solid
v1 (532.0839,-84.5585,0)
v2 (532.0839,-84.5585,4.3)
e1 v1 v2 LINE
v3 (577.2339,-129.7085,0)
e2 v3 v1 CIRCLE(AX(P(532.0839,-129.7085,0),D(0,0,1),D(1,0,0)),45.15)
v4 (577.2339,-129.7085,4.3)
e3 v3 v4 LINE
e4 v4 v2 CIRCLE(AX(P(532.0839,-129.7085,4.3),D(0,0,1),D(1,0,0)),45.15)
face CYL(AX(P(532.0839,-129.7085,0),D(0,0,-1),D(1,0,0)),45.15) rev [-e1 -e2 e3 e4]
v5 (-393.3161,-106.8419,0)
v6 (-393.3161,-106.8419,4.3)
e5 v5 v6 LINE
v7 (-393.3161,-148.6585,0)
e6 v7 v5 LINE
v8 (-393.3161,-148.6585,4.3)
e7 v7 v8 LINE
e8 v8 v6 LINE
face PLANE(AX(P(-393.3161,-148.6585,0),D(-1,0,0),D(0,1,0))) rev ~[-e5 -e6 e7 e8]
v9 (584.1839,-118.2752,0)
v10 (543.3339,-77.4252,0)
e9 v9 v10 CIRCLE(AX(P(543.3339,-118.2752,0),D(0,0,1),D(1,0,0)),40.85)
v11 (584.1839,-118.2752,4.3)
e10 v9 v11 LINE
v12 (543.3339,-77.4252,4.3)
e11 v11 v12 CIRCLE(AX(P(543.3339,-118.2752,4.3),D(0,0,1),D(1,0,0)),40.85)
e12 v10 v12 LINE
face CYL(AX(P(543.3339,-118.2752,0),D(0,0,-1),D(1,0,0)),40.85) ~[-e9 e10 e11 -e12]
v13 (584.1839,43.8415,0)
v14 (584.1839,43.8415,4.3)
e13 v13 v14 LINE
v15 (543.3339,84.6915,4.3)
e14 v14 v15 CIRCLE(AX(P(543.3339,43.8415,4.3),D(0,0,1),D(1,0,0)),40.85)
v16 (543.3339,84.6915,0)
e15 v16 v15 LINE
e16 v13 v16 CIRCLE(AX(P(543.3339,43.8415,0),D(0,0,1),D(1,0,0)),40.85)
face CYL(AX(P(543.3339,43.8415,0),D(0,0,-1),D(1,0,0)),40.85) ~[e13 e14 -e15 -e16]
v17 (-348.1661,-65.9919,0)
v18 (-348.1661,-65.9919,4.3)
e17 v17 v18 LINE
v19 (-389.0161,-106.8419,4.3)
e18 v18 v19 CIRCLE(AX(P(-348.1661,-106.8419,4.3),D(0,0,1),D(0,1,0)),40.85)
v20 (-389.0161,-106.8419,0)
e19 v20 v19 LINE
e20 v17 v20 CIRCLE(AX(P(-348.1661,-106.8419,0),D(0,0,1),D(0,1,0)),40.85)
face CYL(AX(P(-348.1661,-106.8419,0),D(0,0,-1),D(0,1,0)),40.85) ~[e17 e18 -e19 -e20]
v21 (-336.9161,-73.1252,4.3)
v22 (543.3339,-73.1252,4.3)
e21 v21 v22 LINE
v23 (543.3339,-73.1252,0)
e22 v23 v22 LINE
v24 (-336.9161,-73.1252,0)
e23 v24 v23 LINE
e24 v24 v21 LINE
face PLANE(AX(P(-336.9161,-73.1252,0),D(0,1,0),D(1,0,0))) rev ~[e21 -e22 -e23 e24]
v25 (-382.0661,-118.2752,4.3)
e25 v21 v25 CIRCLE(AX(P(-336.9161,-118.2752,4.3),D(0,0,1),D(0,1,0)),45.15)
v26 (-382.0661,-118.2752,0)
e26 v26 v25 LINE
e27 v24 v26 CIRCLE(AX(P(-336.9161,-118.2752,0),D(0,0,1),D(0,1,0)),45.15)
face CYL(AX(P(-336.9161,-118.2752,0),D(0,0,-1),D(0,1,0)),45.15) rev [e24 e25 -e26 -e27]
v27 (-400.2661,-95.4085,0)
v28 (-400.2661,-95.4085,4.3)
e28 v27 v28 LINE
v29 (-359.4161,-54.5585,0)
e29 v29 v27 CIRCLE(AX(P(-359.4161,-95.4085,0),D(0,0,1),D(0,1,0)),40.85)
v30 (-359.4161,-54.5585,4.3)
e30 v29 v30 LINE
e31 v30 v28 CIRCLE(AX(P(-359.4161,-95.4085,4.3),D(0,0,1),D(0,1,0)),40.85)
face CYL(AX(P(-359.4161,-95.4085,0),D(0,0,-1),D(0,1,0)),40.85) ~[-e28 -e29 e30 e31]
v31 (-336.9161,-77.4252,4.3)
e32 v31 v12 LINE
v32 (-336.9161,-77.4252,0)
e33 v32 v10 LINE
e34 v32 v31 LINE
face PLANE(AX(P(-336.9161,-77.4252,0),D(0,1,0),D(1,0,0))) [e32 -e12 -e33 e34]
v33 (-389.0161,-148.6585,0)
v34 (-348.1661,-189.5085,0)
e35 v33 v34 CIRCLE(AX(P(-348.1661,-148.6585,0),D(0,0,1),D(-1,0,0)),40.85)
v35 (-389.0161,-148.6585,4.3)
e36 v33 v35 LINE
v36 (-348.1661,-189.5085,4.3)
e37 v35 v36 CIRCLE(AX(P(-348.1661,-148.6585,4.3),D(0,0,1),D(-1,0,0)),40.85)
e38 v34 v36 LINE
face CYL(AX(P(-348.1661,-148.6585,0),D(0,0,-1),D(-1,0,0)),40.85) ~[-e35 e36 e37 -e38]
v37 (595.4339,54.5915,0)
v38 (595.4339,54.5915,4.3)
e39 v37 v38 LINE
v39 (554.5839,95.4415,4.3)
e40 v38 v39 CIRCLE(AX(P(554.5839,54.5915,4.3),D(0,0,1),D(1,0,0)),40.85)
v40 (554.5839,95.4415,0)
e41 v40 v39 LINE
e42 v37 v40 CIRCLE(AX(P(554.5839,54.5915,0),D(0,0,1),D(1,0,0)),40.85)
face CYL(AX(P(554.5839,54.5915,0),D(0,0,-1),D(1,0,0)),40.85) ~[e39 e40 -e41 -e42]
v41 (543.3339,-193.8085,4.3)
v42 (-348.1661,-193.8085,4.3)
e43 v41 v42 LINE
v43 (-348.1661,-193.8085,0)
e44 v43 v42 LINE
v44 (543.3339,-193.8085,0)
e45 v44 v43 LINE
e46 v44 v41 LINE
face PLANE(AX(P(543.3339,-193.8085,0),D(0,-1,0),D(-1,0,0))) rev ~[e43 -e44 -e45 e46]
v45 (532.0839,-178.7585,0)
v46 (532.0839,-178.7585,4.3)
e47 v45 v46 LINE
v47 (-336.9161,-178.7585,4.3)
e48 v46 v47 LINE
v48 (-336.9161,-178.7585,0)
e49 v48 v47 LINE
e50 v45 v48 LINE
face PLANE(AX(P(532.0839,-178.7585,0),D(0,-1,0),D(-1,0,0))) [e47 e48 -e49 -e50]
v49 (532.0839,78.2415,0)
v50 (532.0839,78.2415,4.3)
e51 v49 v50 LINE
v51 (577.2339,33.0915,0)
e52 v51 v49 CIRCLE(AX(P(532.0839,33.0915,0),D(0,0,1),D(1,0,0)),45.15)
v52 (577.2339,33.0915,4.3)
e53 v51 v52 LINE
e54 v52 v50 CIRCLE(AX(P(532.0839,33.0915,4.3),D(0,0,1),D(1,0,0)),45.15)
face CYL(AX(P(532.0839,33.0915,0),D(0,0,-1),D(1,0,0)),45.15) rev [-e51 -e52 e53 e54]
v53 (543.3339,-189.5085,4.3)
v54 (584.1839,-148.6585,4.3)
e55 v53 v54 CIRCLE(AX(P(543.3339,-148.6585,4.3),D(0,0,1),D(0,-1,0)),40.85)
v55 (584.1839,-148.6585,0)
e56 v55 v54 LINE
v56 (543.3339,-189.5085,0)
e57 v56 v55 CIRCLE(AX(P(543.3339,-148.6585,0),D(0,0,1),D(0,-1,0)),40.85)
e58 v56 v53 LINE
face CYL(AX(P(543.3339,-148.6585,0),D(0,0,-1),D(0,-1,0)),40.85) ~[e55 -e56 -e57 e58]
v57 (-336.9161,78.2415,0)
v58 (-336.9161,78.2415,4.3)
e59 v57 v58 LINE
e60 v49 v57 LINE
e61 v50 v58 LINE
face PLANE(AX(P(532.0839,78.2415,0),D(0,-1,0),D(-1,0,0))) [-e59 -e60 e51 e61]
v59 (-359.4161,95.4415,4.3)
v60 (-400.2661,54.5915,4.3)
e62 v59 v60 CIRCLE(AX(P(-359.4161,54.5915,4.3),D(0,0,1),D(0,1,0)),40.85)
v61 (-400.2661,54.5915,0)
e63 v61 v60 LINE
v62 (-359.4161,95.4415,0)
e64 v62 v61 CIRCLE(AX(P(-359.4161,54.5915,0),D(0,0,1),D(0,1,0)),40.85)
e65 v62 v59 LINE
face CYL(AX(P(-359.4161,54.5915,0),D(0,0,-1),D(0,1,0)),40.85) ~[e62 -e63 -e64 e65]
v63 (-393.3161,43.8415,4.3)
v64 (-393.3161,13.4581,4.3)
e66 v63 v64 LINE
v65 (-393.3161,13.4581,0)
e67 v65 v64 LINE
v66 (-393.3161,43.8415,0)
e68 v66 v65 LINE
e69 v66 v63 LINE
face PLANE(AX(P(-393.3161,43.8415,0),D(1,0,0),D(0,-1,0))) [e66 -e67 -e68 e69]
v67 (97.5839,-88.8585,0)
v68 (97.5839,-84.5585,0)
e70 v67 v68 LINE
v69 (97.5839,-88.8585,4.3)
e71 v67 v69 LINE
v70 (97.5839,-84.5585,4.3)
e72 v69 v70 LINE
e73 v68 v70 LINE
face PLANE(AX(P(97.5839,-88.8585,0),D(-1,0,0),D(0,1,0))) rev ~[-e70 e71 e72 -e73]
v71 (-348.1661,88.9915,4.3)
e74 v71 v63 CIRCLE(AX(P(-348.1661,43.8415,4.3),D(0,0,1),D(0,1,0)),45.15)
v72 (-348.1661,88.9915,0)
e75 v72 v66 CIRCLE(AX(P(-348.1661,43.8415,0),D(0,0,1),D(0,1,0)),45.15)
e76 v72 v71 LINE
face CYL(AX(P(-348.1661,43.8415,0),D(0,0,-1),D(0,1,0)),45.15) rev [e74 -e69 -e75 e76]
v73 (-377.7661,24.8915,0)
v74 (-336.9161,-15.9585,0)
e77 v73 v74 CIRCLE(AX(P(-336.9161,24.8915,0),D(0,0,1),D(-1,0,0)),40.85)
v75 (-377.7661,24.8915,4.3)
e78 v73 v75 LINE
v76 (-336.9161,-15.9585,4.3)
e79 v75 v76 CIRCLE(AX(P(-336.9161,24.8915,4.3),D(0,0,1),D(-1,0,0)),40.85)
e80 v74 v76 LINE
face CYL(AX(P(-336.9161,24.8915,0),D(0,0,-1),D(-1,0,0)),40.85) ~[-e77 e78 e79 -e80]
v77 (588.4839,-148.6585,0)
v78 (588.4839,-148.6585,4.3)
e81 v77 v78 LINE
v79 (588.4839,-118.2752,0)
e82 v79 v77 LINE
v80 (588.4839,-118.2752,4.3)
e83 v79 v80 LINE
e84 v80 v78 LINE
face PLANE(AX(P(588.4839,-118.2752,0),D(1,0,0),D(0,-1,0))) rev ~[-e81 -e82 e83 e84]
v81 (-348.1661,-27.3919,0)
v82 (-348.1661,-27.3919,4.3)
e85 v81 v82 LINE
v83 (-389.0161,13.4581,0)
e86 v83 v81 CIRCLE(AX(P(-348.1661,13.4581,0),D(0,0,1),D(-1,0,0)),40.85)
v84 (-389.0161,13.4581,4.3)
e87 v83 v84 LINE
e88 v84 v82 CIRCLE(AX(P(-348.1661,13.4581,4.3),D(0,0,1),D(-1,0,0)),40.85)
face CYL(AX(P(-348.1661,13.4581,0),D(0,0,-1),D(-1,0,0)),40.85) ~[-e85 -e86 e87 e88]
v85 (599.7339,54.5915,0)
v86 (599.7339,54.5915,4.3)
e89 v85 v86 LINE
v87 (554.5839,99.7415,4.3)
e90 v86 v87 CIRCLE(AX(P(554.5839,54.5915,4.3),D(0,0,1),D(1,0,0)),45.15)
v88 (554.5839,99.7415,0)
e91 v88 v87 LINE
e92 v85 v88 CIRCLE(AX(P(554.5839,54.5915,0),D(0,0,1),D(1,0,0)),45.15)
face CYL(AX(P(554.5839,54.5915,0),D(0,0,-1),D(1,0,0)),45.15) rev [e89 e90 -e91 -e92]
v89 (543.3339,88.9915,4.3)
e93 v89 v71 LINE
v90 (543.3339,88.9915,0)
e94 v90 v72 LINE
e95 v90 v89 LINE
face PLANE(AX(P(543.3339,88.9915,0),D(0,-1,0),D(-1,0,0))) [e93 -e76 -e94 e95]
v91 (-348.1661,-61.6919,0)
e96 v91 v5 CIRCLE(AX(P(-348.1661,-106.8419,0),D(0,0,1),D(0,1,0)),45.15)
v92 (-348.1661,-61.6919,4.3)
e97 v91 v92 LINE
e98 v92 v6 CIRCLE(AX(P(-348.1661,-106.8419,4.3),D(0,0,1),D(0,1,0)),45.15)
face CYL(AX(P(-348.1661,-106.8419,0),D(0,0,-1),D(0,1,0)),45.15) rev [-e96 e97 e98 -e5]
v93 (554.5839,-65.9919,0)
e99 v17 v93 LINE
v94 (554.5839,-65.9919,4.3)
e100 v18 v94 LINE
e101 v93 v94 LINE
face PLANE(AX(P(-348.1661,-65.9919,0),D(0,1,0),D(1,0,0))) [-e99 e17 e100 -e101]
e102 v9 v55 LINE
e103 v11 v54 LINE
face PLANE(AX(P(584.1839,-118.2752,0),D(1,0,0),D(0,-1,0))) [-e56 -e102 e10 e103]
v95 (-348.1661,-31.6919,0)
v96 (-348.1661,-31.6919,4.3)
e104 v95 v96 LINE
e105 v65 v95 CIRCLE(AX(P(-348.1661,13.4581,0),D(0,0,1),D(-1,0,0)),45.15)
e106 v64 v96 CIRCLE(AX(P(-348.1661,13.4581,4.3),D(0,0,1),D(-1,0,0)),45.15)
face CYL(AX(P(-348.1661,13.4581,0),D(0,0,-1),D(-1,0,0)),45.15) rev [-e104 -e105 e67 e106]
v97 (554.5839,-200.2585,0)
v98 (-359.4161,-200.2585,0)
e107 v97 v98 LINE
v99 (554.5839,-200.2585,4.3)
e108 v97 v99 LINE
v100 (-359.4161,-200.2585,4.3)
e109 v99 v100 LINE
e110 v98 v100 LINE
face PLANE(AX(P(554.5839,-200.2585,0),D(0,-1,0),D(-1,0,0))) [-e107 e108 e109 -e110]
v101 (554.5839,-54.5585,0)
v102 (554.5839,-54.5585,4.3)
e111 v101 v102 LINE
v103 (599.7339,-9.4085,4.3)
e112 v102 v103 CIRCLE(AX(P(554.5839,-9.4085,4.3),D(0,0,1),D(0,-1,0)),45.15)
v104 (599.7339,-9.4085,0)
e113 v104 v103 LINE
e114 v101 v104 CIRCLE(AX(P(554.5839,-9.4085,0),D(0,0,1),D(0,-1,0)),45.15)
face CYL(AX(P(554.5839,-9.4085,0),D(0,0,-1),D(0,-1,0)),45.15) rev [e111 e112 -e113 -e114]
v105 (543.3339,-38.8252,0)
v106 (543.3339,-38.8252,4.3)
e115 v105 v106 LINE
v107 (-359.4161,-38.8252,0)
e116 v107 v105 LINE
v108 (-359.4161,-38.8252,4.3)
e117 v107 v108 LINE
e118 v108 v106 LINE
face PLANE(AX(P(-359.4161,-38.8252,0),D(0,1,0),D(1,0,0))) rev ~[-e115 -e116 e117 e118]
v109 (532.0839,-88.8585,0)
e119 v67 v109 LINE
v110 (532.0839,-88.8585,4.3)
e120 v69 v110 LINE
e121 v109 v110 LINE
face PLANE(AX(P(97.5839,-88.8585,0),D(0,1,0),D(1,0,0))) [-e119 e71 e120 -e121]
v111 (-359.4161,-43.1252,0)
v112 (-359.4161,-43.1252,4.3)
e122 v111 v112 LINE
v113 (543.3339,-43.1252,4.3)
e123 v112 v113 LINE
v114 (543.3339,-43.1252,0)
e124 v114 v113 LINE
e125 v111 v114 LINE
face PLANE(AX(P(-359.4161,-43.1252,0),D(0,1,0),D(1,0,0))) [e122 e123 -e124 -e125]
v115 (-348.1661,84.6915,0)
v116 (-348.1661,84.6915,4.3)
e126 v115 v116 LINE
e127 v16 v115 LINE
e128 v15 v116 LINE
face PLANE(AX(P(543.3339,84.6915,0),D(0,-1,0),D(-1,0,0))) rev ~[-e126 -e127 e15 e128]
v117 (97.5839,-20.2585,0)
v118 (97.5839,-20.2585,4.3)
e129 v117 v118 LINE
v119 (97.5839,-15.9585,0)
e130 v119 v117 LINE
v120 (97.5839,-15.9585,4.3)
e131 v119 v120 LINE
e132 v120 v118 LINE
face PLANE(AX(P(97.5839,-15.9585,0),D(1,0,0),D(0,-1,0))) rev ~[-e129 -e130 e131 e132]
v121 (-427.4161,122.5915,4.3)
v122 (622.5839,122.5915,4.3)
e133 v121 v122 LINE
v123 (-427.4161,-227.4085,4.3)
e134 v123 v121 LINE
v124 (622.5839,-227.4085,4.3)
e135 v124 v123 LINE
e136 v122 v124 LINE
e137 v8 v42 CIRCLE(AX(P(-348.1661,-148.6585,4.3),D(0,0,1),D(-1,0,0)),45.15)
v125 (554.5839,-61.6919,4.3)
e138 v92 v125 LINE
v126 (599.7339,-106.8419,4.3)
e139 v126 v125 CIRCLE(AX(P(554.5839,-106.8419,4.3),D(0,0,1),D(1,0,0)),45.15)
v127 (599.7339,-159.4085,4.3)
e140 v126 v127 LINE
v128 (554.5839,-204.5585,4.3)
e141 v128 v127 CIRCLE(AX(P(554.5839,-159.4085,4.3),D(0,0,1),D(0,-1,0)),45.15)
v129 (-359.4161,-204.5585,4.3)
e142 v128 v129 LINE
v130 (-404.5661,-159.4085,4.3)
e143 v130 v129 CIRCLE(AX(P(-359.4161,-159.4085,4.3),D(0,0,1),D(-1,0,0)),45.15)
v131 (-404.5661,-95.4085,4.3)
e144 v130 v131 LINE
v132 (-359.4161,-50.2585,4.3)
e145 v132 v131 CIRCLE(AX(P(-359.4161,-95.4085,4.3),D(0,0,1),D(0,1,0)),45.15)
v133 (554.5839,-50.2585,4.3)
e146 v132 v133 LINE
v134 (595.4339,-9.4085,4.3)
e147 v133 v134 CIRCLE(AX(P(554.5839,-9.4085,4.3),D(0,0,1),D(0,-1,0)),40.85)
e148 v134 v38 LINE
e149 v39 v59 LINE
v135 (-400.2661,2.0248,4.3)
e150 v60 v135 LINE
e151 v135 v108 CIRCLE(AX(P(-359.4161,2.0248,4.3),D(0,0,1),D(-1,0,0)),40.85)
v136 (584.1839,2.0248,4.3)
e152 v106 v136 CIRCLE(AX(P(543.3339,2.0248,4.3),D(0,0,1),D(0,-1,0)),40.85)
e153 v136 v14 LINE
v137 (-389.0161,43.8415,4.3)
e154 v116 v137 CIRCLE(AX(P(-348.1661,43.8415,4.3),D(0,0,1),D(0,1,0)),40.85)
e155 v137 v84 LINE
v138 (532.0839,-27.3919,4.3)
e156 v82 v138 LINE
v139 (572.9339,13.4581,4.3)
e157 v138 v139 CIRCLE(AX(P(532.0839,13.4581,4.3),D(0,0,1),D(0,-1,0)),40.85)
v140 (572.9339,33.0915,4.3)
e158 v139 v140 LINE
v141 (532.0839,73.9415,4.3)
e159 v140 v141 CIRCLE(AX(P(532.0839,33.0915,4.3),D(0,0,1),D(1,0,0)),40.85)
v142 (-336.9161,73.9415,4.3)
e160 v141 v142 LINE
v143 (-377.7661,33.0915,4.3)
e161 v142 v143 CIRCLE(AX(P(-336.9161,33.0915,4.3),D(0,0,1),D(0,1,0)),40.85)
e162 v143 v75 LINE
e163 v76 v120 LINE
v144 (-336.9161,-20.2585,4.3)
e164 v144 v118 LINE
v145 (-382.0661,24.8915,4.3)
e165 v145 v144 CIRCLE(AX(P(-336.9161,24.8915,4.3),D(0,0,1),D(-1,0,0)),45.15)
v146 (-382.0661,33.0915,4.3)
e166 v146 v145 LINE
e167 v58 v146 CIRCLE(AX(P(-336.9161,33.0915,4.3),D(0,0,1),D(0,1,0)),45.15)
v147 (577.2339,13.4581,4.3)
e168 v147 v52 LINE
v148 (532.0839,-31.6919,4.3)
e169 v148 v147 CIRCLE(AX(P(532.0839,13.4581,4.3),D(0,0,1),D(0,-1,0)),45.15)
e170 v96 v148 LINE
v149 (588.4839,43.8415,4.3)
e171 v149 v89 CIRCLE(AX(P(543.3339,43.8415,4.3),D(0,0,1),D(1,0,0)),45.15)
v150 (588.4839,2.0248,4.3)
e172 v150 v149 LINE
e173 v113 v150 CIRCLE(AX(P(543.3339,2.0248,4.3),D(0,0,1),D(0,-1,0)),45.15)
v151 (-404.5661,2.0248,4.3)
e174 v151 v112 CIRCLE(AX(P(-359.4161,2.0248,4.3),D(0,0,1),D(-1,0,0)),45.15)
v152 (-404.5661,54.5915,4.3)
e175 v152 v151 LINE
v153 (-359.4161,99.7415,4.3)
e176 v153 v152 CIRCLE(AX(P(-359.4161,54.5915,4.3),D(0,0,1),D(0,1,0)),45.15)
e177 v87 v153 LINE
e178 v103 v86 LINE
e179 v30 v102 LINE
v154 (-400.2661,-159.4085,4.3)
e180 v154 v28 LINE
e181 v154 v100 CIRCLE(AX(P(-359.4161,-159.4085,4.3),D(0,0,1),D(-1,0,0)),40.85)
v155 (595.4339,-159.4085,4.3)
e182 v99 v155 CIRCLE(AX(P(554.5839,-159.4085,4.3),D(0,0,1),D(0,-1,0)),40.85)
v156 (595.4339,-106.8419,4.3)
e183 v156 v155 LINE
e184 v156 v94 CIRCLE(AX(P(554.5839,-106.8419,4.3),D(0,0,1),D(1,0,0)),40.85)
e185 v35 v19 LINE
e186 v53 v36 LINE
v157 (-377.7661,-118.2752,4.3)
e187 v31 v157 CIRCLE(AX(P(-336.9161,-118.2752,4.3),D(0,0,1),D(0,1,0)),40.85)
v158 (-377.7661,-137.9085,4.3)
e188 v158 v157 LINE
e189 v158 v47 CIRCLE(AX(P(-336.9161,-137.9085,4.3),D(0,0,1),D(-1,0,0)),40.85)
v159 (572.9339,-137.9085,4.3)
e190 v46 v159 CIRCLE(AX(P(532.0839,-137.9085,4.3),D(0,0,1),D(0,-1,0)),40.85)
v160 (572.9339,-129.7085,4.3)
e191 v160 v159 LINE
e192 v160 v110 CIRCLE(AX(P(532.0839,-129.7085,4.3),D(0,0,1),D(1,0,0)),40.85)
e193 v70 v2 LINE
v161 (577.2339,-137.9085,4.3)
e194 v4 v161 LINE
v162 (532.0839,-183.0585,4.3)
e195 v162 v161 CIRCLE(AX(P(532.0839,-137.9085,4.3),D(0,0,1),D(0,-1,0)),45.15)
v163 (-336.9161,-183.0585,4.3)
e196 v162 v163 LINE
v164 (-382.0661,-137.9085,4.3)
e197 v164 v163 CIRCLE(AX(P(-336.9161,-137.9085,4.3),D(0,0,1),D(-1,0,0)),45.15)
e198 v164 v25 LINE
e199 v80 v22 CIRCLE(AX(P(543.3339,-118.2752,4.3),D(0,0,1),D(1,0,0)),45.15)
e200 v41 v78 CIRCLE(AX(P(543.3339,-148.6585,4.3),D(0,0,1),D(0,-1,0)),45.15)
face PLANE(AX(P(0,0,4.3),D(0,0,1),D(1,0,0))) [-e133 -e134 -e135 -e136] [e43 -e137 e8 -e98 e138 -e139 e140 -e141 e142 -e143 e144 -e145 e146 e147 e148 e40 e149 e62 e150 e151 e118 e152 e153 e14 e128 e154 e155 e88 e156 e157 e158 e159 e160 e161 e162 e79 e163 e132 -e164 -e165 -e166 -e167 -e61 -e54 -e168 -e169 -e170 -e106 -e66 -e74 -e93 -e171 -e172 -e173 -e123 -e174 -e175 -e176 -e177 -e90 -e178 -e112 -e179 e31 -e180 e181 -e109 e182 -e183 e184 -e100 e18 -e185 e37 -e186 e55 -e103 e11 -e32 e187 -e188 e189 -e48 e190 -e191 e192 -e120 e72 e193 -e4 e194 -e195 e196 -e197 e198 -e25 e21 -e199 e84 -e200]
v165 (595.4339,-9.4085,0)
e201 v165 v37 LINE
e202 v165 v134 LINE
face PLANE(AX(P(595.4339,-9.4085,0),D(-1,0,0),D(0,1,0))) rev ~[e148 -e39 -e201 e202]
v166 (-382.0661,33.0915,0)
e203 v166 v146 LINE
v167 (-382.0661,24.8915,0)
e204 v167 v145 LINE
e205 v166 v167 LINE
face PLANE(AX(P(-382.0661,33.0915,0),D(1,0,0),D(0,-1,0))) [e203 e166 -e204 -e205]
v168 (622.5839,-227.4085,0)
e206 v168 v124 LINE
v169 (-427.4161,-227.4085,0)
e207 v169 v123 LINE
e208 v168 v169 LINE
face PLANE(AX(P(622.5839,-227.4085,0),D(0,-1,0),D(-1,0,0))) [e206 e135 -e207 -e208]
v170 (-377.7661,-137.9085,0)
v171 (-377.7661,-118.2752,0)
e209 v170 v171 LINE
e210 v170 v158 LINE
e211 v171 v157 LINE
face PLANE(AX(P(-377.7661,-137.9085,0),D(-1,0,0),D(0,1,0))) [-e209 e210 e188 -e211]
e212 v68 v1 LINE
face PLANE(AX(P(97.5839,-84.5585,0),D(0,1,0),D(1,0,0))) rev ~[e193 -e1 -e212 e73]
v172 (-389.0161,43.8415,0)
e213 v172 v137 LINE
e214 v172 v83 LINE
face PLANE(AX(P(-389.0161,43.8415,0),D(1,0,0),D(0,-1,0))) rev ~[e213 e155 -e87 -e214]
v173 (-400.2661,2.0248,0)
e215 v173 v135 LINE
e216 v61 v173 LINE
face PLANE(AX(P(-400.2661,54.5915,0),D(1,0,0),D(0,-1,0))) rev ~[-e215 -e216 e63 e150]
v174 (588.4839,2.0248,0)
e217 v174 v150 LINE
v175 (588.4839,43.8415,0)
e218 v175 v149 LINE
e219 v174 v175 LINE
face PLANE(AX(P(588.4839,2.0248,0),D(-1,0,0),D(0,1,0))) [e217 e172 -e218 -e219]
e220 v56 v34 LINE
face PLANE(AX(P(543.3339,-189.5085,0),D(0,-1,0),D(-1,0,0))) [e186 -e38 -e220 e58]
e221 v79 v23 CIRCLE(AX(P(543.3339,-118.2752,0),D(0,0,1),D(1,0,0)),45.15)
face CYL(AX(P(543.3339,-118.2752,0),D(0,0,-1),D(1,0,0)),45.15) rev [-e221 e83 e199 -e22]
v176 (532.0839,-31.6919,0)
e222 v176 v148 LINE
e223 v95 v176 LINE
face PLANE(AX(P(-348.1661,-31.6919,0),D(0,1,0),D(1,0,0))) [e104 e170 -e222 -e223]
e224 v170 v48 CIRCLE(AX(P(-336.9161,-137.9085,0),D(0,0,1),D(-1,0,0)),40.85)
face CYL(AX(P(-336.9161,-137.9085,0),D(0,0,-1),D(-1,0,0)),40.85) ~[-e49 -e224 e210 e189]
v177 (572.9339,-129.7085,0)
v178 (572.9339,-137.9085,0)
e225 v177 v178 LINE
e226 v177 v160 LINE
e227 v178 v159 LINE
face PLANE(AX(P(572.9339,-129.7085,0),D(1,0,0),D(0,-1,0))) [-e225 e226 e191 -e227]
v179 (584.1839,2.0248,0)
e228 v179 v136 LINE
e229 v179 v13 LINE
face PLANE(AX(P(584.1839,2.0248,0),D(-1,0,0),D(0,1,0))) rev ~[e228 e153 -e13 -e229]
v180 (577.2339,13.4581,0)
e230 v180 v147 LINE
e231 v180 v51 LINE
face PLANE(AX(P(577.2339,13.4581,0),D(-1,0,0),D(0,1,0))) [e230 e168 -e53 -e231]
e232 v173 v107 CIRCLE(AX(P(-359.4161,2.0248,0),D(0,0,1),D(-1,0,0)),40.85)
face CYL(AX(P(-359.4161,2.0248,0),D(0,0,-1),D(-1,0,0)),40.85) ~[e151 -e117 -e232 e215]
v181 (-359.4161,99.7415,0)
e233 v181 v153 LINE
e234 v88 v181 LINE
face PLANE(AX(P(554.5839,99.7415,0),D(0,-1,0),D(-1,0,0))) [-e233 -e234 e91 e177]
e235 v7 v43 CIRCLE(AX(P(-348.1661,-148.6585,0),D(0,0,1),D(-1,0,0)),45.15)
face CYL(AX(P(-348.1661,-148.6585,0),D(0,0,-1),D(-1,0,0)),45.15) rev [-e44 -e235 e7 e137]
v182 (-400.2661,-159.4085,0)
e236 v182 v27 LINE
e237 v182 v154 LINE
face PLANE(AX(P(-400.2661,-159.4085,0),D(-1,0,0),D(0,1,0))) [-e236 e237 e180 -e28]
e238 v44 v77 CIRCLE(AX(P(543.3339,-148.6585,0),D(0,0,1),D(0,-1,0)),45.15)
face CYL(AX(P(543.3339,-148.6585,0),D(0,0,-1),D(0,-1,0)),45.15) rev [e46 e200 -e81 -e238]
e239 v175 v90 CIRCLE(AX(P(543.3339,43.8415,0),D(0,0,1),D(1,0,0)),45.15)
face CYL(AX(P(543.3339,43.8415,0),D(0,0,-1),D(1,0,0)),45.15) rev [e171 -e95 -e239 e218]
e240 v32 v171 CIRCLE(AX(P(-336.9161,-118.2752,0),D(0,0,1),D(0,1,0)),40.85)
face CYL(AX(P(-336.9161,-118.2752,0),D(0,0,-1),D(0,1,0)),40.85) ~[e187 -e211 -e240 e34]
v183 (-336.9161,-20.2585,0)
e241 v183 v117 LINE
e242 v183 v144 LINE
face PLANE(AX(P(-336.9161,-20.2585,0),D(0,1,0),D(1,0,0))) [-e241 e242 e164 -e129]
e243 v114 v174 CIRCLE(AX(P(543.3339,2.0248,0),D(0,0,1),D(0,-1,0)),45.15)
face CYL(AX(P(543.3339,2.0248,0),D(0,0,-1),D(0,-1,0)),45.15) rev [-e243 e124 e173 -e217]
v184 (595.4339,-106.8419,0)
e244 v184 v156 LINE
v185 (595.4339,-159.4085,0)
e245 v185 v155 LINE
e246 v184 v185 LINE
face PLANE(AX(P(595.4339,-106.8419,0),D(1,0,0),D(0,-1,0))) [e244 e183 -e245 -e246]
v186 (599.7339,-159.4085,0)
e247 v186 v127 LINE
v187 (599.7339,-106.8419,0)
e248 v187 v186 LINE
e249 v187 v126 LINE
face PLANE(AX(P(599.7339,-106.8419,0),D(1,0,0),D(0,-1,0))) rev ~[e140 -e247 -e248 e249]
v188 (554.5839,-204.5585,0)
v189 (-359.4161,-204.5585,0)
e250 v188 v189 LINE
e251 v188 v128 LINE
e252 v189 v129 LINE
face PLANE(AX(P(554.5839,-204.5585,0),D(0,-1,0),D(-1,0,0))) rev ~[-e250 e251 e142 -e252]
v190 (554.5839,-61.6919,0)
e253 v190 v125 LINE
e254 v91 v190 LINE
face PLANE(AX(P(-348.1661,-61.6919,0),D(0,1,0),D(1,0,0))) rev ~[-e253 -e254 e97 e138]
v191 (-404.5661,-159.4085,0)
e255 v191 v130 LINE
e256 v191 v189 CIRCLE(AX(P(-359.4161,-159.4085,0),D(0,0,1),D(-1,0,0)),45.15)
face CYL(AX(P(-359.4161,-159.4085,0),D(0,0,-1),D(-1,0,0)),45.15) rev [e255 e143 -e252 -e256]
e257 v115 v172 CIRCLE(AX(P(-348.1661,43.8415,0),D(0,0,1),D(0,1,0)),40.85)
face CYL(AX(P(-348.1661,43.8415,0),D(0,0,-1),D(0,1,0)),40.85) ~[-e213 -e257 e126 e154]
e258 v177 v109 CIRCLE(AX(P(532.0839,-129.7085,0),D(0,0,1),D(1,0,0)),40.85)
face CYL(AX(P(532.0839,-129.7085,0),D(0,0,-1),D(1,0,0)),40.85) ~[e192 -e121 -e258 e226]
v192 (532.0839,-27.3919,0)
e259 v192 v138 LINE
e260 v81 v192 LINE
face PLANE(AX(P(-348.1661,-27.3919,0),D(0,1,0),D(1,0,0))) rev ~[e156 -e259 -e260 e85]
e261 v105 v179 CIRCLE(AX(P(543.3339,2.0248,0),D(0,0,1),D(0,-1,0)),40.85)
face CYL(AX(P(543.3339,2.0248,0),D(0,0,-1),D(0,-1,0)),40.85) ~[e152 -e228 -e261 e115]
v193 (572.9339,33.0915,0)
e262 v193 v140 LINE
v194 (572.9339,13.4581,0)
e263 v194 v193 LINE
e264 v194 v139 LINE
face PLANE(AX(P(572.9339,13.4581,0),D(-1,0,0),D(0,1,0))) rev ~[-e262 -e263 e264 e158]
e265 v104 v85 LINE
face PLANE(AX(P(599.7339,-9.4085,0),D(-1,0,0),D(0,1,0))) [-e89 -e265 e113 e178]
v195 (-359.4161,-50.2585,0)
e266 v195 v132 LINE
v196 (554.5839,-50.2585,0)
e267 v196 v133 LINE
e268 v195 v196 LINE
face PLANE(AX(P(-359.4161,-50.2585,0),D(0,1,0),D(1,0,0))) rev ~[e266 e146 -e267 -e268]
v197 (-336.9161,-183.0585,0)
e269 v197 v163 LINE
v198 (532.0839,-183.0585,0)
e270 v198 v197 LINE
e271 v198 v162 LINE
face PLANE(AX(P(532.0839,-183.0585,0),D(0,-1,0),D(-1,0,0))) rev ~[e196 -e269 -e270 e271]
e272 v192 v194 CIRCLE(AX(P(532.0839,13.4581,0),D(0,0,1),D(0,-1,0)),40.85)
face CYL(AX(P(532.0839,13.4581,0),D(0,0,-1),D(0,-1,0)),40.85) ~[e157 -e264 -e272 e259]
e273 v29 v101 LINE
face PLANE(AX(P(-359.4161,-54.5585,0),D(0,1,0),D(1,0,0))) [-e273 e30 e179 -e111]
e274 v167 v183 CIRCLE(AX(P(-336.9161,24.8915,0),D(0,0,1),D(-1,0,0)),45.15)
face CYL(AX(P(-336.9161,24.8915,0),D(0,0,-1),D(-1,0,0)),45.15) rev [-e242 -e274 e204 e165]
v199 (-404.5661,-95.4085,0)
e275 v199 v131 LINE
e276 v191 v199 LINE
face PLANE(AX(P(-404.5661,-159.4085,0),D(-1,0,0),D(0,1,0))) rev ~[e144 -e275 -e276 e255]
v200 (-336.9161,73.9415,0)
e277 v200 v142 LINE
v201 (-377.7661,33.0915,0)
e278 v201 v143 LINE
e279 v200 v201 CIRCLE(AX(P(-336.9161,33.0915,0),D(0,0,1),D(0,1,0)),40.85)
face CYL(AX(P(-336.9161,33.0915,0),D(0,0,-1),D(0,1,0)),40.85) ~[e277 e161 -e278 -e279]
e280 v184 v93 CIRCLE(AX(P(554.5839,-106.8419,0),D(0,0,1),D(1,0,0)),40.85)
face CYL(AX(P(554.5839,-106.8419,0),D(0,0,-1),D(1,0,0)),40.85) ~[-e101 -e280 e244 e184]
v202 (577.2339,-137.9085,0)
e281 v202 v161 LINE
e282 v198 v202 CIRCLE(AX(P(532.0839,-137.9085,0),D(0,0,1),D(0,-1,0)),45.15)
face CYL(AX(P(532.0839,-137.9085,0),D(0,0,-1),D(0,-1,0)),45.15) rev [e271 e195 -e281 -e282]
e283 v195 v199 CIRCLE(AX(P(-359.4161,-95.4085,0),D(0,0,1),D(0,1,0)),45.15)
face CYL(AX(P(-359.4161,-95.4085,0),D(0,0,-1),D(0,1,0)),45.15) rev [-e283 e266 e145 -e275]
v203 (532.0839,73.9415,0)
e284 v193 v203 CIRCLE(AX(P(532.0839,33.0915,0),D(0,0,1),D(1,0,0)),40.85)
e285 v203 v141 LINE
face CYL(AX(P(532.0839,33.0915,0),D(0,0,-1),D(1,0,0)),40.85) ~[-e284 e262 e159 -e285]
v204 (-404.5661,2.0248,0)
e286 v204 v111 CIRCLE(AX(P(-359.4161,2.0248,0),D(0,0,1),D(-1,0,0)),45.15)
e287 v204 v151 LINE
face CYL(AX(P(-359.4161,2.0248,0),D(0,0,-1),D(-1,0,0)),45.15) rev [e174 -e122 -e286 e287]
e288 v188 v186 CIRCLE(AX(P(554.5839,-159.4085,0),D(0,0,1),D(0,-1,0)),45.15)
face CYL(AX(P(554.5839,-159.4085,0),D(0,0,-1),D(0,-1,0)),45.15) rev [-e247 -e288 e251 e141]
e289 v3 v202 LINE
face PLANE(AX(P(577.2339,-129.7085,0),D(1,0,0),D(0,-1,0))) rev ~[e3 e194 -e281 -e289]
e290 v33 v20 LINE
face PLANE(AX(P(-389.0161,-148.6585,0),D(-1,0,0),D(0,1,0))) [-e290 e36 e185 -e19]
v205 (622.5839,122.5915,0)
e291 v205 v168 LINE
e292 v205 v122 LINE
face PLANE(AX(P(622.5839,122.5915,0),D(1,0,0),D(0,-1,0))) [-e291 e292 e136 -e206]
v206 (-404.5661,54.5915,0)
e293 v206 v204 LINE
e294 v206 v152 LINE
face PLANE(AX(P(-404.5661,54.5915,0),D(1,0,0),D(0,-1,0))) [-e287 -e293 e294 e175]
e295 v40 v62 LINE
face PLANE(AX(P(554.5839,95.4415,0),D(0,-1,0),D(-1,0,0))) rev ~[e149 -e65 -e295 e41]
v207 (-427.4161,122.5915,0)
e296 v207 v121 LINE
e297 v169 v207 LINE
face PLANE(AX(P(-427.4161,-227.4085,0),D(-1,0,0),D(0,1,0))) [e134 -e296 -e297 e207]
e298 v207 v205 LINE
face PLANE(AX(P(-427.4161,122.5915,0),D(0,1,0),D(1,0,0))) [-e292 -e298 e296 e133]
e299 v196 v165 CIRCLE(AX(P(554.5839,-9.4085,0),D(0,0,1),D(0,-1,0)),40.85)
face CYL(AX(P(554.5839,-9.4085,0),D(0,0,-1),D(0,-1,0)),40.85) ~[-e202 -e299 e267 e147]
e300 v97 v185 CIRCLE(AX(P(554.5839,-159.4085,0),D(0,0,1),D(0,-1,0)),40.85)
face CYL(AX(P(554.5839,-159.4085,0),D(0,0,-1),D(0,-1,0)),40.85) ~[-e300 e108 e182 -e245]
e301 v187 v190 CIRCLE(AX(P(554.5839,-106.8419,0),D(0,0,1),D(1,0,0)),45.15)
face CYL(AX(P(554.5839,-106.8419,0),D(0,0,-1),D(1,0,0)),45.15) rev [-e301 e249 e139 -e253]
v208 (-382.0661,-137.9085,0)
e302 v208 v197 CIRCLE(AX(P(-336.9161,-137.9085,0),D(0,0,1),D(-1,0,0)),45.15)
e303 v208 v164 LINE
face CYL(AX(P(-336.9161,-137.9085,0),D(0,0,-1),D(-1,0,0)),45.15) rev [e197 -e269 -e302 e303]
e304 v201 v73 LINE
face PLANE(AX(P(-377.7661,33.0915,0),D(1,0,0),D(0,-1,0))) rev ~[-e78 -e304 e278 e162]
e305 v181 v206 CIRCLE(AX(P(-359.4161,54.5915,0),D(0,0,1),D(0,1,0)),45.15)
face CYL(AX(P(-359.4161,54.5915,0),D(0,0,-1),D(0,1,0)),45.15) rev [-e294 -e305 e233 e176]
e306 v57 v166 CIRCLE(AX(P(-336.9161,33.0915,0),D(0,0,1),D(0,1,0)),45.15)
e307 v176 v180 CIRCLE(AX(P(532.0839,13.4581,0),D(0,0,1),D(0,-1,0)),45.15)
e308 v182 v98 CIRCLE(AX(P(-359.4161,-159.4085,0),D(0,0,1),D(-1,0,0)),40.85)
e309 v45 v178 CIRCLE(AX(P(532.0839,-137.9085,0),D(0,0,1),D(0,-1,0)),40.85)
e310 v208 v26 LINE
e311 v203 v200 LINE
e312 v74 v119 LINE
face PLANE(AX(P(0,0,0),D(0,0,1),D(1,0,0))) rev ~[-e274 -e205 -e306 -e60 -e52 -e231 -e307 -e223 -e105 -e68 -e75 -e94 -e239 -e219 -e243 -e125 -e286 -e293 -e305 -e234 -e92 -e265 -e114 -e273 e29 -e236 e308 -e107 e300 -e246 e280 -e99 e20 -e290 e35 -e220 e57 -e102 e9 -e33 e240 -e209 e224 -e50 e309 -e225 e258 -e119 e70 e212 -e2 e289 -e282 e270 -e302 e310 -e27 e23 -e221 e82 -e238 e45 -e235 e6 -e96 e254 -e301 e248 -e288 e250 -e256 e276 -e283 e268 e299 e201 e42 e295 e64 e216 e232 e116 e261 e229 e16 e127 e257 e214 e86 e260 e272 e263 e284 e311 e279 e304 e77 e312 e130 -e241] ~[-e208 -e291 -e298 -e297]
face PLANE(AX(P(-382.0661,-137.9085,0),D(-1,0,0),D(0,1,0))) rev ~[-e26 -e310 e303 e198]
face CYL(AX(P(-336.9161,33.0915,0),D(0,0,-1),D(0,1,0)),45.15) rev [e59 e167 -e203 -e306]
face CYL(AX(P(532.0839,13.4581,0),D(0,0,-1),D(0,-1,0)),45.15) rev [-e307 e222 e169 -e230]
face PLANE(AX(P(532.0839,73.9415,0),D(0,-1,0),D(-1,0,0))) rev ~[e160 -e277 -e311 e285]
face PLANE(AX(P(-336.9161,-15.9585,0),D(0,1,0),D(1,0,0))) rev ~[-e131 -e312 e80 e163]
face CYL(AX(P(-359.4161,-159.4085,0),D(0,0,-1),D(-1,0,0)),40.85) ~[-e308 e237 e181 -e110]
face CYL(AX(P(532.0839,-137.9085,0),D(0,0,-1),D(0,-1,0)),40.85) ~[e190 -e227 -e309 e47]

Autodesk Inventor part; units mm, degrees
ref_plane "YZ Plane" through (0, 0, 0) normal (1, 0, 0) x (0, 1, 0)
ref_plane "XZ Plane" through (0, 0, 0) normal (0, 1, 0) x (-1, 0, 0)
ref_plane "XY Plane" through (0, 0, 0) normal (0, 0, 1) x (1, 0, 0)
sketch "Sketch1" plane through (0, 0, 0) normal (0, 0, 1) x (1, 0, 0)
  line L0 (97.5839, -88.8585) -> (97.5839, -84.5585) projected
  line L1 (97.5839, -88.8585) -> (532.0839, -88.8585) projected
  arc A0 (572.9339, -129.7085) -> (532.0839, -88.8585) centre (532.0839, -129.7085) ccw projected
  line L2 (572.9339, -129.7085) -> (572.9339, -137.9085) projected
  arc A1 (532.0839, -178.7585) -> (572.9339, -137.9085) centre (532.0839, -137.9085) ccw projected
  line L3 (532.0839, -178.7585) -> (-336.9161, -178.7585) projected
  arc A2 (-377.7661, -137.9085) -> (-336.9161, -178.7585) centre (-336.9161, -137.9085) ccw projected
  line L4 (-377.7661, -137.9085) -> (-377.7661, -118.2752) projected
  arc A3 (-336.9161, -77.4252) -> (-377.7661, -118.2752) centre (-336.9161, -118.2752) ccw projected
  line L5 (-336.9161, -77.4252) -> (543.3339, -77.4252) projected
  arc A4 (584.1839, -118.2752) -> (543.3339, -77.4252) centre (543.3339, -118.2752) ccw projected
  line L6 (584.1839, -118.2752) -> (584.1839, -148.6585) projected
  arc A5 (543.3339, -189.5085) -> (584.1839, -148.6585) centre (543.3339, -148.6585) ccw projected
  line L7 (543.3339, -189.5085) -> (-348.1661, -189.5085) projected
  arc A6 (-389.0161, -148.6585) -> (-348.1661, -189.5085) centre (-348.1661, -148.6585) ccw projected
  line L8 (-389.0161, -148.6585) -> (-389.0161, -106.8419) projected
  arc A7 (-348.1661, -65.9919) -> (-389.0161, -106.8419) centre (-348.1661, -106.8419) ccw projected
  line L9 (-348.1661, -65.9919) -> (554.5839, -65.9919) projected
  arc A8 (595.4339, -106.8419) -> (554.5839, -65.9919) centre (554.5839, -106.8419) ccw projected
  line L10 (595.4339, -106.8419) -> (595.4339, -159.4085) projected
  arc A9 (554.5839, -200.2585) -> (595.4339, -159.4085) centre (554.5839, -159.4085) ccw projected
  line L11 (554.5839, -200.2585) -> (-359.4161, -200.2585) projected
  arc A10 (-400.2661, -159.4085) -> (-359.4161, -200.2585) centre (-359.4161, -159.4085) ccw projected
  line L12 (-400.2661, -159.4085) -> (-400.2661, -95.4085) projected
  arc A11 (-359.4161, -54.5585) -> (-400.2661, -95.4085) centre (-359.4161, -95.4085) ccw projected
  line L13 (-359.4161, -54.5585) -> (554.5839, -54.5585) projected
  arc A12 (554.5839, -54.5585) -> (599.7339, -9.4085) centre (554.5839, -9.4085) ccw projected
  line L14 (599.7339, -9.4085) -> (599.7339, 54.5915) projected
  arc A13 (599.7339, 54.5915) -> (554.5839, 99.7415) centre (554.5839, 54.5915) ccw projected
  line L15 (554.5839, 99.7415) -> (-359.4161, 99.7415) projected
  arc A14 (-359.4161, 99.7415) -> (-404.5661, 54.5915) centre (-359.4161, 54.5915) ccw projected
  line L16 (-404.5661, 54.5915) -> (-404.5661, 2.0248) projected
  arc A15 (-404.5661, 2.0248) -> (-359.4161, -43.1252) centre (-359.4161, 2.0248) ccw projected
  line L17 (-359.4161, -43.1252) -> (543.3339, -43.1252) projected
  arc A16 (543.3339, -43.1252) -> (588.4839, 2.0248) centre (543.3339, 2.0248) ccw projected
  line L18 (588.4839, 2.0248) -> (588.4839, 43.8415) projected
  arc A17 (588.4839, 43.8415) -> (543.3339, 88.9915) centre (543.3339, 43.8415) ccw projected
  line L19 (543.3339, 88.9915) -> (-348.1661, 88.9915) projected
  arc A18 (-348.1661, 88.9915) -> (-393.3161, 43.8415) centre (-348.1661, 43.8415) ccw projected
  line L20 (-393.3161, 43.8415) -> (-393.3161, 13.4581) projected
  arc A19 (-393.3161, 13.4581) -> (-348.1661, -31.6919) centre (-348.1661, 13.4581) ccw projected
  line L21 (-348.1661, -31.6919) -> (532.0839, -31.6919) projected
  arc A20 (532.0839, -31.6919) -> (577.2339, 13.4581) centre (532.0839, 13.4581) ccw projected
  line L22 (577.2339, 13.4581) -> (577.2339, 33.0915) projected
  arc A21 (577.2339, 33.0915) -> (532.0839, 78.2415) centre (532.0839, 33.0915) ccw projected
  line L23 (532.0839, 78.2415) -> (-336.9161, 78.2415) projected
  arc A22 (-336.9161, 78.2415) -> (-382.0661, 33.0915) centre (-336.9161, 33.0915) ccw projected
  line L24 (-382.0661, 33.0915) -> (-382.0661, 24.8915) projected
  arc A23 (-382.0661, 24.8915) -> (-336.9161, -20.2585) centre (-336.9161, 24.8915) ccw projected
  line L25 (-336.9161, -20.2585) -> (97.5839, -20.2585) projected
  line L26 (97.5839, -15.9585) -> (97.5839, -20.2585) projected
  line L27 (-336.9161, -15.9585) -> (97.5839, -15.9585) projected
  arc A24 (-377.7661, 24.8915) -> (-336.9161, -15.9585) centre (-336.9161, 24.8915) ccw projected
  line L28 (-377.7661, 33.0915) -> (-377.7661, 24.8915) projected
  arc A25 (-336.9161, 73.9415) -> (-377.7661, 33.0915) centre (-336.9161, 33.0915) ccw projected
  line L29 (532.0839, 73.9415) -> (-336.9161, 73.9415) projected
  arc A26 (572.9339, 33.0915) -> (532.0839, 73.9415) centre (532.0839, 33.0915) ccw projected
  line L30 (572.9339, 13.4581) -> (572.9339, 33.0915) projected
  arc A27 (532.0839, -27.3919) -> (572.9339, 13.4581) centre (532.0839, 13.4581) ccw projected
  line L31 (-348.1661, -27.3919) -> (532.0839, -27.3919) projected
  arc A28 (-389.0161, 13.4581) -> (-348.1661, -27.3919) centre (-348.1661, 13.4581) ccw projected
  line L32 (-389.0161, 43.8415) -> (-389.0161, 13.4581) projected
  arc A29 (-348.1661, 84.6915) -> (-389.0161, 43.8415) centre (-348.1661, 43.8415) ccw projected
  line L33 (543.3339, 84.6915) -> (-348.1661, 84.6915) projected
  arc A30 (584.1839, 43.8415) -> (543.3339, 84.6915) centre (543.3339, 43.8415) ccw projected
  line L34 (584.1839, 2.0248) -> (584.1839, 43.8415) projected
  arc A31 (543.3339, -38.8252) -> (584.1839, 2.0248) centre (543.3339, 2.0248) ccw projected
  line L35 (-359.4161, -38.8252) -> (543.3339, -38.8252) projected
  arc A32 (-400.2661, 2.0248) -> (-359.4161, -38.8252) centre (-359.4161, 2.0248) ccw projected
  line L36 (-400.2661, 54.5915) -> (-400.2661, 2.0248) projected
  arc A33 (-359.4161, 95.4415) -> (-400.2661, 54.5915) centre (-359.4161, 54.5915) ccw projected
  line L37 (554.5839, 95.4415) -> (-359.4161, 95.4415) projected
  arc A34 (595.4339, 54.5915) -> (554.5839, 95.4415) centre (554.5839, 54.5915) ccw projected
  line L38 (595.4339, -9.4085) -> (595.4339, 54.5915) projected
  arc A35 (554.5839, -50.2585) -> (595.4339, -9.4085) centre (554.5839, -9.4085) ccw projected
  line L39 (-359.4161, -50.2585) -> (554.5839, -50.2585) projected
  arc A36 (-359.4161, -50.2585) -> (-404.5661, -95.4085) centre (-359.4161, -95.4085) ccw projected
  line L40 (-404.5661, -159.4085) -> (-404.5661, -95.4085) projected
  arc A37 (-404.5661, -159.4085) -> (-359.4161, -204.5585) centre (-359.4161, -159.4085) ccw projected
  line L41 (554.5839, -204.5585) -> (-359.4161, -204.5585) projected
  arc A38 (554.5839, -204.5585) -> (599.7339, -159.4085) centre (554.5839, -159.4085) ccw projected
  line L42 (599.7339, -106.8419) -> (599.7339, -159.4085) projected
  arc A39 (599.7339, -106.8419) -> (554.5839, -61.6919) centre (554.5839, -106.8419) ccw projected
  line L43 (-348.1661, -61.6919) -> (554.5839, -61.6919) projected
  arc A40 (-348.1661, -61.6919) -> (-393.3161, -106.8419) centre (-348.1661, -106.8419) ccw projected
  line L44 (-393.3161, -148.6585) -> (-393.3161, -106.8419) projected
  arc A41 (-393.3161, -148.6585) -> (-348.1661, -193.8085) centre (-348.1661, -148.6585) ccw projected
  line L45 (543.3339, -193.8085) -> (-348.1661, -193.8085) projected
  arc A42 (543.3339, -193.8085) -> (588.4839, -148.6585) centre (543.3339, -148.6585) ccw projected
  line L46 (588.4839, -118.2752) -> (588.4839, -148.6585) projected
  arc A43 (588.4839, -118.2752) -> (543.3339, -73.1252) centre (543.3339, -118.2752) ccw projected
  line L47 (-336.9161, -73.1252) -> (543.3339, -73.1252) projected
  arc A44 (-336.9161, -73.1252) -> (-382.0661, -118.2752) centre (-336.9161, -118.2752) ccw projected
  line L48 (-382.0661, -137.9085) -> (-382.0661, -118.2752) projected
  arc A45 (-382.0661, -137.9085) -> (-336.9161, -183.0585) centre (-336.9161, -137.9085) ccw projected
  line L49 (532.0839, -183.0585) -> (-336.9161, -183.0585) projected
  arc A46 (532.0839, -183.0585) -> (577.2339, -137.9085) centre (532.0839, -137.9085) ccw projected
  line L50 (577.2339, -129.7085) -> (577.2339, -137.9085) projected
  arc A47 (577.2339, -129.7085) -> (532.0839, -84.5585) centre (532.0839, -129.7085) ccw projected
  line L51 (97.5839, -84.5585) -> (532.0839, -84.5585) projected
  line L52 (97.5839, -20.2585) -> (97.5839, -84.5585) construction
  line L53 (97.5839, -52.4085) -> (22.8086, -52.4085)
  line L54 (622.5839, -227.4085) -> (-427.4161, -227.4085)
  line L55 (-427.4161, -227.4085) -> (-427.4161, 122.5915)
  line L56 (-427.4161, 122.5915) -> (622.5839, 122.5915)
  line L57 (622.5839, 122.5915) -> (622.5839, -227.4085)
  line L58 (622.5839, -227.4085) -> (-427.4161, 122.5915) construction
  line L59 (-427.4161, -227.4085) -> (622.5839, 122.5915) construction
  point P0 (0, 0)
  dimension "d0" = 1050
  dimension "d1" = 350
extrude "Extrusion1" add sketch "Sketch1" along normal blind 4.3
properties material "PVC-Piping"
